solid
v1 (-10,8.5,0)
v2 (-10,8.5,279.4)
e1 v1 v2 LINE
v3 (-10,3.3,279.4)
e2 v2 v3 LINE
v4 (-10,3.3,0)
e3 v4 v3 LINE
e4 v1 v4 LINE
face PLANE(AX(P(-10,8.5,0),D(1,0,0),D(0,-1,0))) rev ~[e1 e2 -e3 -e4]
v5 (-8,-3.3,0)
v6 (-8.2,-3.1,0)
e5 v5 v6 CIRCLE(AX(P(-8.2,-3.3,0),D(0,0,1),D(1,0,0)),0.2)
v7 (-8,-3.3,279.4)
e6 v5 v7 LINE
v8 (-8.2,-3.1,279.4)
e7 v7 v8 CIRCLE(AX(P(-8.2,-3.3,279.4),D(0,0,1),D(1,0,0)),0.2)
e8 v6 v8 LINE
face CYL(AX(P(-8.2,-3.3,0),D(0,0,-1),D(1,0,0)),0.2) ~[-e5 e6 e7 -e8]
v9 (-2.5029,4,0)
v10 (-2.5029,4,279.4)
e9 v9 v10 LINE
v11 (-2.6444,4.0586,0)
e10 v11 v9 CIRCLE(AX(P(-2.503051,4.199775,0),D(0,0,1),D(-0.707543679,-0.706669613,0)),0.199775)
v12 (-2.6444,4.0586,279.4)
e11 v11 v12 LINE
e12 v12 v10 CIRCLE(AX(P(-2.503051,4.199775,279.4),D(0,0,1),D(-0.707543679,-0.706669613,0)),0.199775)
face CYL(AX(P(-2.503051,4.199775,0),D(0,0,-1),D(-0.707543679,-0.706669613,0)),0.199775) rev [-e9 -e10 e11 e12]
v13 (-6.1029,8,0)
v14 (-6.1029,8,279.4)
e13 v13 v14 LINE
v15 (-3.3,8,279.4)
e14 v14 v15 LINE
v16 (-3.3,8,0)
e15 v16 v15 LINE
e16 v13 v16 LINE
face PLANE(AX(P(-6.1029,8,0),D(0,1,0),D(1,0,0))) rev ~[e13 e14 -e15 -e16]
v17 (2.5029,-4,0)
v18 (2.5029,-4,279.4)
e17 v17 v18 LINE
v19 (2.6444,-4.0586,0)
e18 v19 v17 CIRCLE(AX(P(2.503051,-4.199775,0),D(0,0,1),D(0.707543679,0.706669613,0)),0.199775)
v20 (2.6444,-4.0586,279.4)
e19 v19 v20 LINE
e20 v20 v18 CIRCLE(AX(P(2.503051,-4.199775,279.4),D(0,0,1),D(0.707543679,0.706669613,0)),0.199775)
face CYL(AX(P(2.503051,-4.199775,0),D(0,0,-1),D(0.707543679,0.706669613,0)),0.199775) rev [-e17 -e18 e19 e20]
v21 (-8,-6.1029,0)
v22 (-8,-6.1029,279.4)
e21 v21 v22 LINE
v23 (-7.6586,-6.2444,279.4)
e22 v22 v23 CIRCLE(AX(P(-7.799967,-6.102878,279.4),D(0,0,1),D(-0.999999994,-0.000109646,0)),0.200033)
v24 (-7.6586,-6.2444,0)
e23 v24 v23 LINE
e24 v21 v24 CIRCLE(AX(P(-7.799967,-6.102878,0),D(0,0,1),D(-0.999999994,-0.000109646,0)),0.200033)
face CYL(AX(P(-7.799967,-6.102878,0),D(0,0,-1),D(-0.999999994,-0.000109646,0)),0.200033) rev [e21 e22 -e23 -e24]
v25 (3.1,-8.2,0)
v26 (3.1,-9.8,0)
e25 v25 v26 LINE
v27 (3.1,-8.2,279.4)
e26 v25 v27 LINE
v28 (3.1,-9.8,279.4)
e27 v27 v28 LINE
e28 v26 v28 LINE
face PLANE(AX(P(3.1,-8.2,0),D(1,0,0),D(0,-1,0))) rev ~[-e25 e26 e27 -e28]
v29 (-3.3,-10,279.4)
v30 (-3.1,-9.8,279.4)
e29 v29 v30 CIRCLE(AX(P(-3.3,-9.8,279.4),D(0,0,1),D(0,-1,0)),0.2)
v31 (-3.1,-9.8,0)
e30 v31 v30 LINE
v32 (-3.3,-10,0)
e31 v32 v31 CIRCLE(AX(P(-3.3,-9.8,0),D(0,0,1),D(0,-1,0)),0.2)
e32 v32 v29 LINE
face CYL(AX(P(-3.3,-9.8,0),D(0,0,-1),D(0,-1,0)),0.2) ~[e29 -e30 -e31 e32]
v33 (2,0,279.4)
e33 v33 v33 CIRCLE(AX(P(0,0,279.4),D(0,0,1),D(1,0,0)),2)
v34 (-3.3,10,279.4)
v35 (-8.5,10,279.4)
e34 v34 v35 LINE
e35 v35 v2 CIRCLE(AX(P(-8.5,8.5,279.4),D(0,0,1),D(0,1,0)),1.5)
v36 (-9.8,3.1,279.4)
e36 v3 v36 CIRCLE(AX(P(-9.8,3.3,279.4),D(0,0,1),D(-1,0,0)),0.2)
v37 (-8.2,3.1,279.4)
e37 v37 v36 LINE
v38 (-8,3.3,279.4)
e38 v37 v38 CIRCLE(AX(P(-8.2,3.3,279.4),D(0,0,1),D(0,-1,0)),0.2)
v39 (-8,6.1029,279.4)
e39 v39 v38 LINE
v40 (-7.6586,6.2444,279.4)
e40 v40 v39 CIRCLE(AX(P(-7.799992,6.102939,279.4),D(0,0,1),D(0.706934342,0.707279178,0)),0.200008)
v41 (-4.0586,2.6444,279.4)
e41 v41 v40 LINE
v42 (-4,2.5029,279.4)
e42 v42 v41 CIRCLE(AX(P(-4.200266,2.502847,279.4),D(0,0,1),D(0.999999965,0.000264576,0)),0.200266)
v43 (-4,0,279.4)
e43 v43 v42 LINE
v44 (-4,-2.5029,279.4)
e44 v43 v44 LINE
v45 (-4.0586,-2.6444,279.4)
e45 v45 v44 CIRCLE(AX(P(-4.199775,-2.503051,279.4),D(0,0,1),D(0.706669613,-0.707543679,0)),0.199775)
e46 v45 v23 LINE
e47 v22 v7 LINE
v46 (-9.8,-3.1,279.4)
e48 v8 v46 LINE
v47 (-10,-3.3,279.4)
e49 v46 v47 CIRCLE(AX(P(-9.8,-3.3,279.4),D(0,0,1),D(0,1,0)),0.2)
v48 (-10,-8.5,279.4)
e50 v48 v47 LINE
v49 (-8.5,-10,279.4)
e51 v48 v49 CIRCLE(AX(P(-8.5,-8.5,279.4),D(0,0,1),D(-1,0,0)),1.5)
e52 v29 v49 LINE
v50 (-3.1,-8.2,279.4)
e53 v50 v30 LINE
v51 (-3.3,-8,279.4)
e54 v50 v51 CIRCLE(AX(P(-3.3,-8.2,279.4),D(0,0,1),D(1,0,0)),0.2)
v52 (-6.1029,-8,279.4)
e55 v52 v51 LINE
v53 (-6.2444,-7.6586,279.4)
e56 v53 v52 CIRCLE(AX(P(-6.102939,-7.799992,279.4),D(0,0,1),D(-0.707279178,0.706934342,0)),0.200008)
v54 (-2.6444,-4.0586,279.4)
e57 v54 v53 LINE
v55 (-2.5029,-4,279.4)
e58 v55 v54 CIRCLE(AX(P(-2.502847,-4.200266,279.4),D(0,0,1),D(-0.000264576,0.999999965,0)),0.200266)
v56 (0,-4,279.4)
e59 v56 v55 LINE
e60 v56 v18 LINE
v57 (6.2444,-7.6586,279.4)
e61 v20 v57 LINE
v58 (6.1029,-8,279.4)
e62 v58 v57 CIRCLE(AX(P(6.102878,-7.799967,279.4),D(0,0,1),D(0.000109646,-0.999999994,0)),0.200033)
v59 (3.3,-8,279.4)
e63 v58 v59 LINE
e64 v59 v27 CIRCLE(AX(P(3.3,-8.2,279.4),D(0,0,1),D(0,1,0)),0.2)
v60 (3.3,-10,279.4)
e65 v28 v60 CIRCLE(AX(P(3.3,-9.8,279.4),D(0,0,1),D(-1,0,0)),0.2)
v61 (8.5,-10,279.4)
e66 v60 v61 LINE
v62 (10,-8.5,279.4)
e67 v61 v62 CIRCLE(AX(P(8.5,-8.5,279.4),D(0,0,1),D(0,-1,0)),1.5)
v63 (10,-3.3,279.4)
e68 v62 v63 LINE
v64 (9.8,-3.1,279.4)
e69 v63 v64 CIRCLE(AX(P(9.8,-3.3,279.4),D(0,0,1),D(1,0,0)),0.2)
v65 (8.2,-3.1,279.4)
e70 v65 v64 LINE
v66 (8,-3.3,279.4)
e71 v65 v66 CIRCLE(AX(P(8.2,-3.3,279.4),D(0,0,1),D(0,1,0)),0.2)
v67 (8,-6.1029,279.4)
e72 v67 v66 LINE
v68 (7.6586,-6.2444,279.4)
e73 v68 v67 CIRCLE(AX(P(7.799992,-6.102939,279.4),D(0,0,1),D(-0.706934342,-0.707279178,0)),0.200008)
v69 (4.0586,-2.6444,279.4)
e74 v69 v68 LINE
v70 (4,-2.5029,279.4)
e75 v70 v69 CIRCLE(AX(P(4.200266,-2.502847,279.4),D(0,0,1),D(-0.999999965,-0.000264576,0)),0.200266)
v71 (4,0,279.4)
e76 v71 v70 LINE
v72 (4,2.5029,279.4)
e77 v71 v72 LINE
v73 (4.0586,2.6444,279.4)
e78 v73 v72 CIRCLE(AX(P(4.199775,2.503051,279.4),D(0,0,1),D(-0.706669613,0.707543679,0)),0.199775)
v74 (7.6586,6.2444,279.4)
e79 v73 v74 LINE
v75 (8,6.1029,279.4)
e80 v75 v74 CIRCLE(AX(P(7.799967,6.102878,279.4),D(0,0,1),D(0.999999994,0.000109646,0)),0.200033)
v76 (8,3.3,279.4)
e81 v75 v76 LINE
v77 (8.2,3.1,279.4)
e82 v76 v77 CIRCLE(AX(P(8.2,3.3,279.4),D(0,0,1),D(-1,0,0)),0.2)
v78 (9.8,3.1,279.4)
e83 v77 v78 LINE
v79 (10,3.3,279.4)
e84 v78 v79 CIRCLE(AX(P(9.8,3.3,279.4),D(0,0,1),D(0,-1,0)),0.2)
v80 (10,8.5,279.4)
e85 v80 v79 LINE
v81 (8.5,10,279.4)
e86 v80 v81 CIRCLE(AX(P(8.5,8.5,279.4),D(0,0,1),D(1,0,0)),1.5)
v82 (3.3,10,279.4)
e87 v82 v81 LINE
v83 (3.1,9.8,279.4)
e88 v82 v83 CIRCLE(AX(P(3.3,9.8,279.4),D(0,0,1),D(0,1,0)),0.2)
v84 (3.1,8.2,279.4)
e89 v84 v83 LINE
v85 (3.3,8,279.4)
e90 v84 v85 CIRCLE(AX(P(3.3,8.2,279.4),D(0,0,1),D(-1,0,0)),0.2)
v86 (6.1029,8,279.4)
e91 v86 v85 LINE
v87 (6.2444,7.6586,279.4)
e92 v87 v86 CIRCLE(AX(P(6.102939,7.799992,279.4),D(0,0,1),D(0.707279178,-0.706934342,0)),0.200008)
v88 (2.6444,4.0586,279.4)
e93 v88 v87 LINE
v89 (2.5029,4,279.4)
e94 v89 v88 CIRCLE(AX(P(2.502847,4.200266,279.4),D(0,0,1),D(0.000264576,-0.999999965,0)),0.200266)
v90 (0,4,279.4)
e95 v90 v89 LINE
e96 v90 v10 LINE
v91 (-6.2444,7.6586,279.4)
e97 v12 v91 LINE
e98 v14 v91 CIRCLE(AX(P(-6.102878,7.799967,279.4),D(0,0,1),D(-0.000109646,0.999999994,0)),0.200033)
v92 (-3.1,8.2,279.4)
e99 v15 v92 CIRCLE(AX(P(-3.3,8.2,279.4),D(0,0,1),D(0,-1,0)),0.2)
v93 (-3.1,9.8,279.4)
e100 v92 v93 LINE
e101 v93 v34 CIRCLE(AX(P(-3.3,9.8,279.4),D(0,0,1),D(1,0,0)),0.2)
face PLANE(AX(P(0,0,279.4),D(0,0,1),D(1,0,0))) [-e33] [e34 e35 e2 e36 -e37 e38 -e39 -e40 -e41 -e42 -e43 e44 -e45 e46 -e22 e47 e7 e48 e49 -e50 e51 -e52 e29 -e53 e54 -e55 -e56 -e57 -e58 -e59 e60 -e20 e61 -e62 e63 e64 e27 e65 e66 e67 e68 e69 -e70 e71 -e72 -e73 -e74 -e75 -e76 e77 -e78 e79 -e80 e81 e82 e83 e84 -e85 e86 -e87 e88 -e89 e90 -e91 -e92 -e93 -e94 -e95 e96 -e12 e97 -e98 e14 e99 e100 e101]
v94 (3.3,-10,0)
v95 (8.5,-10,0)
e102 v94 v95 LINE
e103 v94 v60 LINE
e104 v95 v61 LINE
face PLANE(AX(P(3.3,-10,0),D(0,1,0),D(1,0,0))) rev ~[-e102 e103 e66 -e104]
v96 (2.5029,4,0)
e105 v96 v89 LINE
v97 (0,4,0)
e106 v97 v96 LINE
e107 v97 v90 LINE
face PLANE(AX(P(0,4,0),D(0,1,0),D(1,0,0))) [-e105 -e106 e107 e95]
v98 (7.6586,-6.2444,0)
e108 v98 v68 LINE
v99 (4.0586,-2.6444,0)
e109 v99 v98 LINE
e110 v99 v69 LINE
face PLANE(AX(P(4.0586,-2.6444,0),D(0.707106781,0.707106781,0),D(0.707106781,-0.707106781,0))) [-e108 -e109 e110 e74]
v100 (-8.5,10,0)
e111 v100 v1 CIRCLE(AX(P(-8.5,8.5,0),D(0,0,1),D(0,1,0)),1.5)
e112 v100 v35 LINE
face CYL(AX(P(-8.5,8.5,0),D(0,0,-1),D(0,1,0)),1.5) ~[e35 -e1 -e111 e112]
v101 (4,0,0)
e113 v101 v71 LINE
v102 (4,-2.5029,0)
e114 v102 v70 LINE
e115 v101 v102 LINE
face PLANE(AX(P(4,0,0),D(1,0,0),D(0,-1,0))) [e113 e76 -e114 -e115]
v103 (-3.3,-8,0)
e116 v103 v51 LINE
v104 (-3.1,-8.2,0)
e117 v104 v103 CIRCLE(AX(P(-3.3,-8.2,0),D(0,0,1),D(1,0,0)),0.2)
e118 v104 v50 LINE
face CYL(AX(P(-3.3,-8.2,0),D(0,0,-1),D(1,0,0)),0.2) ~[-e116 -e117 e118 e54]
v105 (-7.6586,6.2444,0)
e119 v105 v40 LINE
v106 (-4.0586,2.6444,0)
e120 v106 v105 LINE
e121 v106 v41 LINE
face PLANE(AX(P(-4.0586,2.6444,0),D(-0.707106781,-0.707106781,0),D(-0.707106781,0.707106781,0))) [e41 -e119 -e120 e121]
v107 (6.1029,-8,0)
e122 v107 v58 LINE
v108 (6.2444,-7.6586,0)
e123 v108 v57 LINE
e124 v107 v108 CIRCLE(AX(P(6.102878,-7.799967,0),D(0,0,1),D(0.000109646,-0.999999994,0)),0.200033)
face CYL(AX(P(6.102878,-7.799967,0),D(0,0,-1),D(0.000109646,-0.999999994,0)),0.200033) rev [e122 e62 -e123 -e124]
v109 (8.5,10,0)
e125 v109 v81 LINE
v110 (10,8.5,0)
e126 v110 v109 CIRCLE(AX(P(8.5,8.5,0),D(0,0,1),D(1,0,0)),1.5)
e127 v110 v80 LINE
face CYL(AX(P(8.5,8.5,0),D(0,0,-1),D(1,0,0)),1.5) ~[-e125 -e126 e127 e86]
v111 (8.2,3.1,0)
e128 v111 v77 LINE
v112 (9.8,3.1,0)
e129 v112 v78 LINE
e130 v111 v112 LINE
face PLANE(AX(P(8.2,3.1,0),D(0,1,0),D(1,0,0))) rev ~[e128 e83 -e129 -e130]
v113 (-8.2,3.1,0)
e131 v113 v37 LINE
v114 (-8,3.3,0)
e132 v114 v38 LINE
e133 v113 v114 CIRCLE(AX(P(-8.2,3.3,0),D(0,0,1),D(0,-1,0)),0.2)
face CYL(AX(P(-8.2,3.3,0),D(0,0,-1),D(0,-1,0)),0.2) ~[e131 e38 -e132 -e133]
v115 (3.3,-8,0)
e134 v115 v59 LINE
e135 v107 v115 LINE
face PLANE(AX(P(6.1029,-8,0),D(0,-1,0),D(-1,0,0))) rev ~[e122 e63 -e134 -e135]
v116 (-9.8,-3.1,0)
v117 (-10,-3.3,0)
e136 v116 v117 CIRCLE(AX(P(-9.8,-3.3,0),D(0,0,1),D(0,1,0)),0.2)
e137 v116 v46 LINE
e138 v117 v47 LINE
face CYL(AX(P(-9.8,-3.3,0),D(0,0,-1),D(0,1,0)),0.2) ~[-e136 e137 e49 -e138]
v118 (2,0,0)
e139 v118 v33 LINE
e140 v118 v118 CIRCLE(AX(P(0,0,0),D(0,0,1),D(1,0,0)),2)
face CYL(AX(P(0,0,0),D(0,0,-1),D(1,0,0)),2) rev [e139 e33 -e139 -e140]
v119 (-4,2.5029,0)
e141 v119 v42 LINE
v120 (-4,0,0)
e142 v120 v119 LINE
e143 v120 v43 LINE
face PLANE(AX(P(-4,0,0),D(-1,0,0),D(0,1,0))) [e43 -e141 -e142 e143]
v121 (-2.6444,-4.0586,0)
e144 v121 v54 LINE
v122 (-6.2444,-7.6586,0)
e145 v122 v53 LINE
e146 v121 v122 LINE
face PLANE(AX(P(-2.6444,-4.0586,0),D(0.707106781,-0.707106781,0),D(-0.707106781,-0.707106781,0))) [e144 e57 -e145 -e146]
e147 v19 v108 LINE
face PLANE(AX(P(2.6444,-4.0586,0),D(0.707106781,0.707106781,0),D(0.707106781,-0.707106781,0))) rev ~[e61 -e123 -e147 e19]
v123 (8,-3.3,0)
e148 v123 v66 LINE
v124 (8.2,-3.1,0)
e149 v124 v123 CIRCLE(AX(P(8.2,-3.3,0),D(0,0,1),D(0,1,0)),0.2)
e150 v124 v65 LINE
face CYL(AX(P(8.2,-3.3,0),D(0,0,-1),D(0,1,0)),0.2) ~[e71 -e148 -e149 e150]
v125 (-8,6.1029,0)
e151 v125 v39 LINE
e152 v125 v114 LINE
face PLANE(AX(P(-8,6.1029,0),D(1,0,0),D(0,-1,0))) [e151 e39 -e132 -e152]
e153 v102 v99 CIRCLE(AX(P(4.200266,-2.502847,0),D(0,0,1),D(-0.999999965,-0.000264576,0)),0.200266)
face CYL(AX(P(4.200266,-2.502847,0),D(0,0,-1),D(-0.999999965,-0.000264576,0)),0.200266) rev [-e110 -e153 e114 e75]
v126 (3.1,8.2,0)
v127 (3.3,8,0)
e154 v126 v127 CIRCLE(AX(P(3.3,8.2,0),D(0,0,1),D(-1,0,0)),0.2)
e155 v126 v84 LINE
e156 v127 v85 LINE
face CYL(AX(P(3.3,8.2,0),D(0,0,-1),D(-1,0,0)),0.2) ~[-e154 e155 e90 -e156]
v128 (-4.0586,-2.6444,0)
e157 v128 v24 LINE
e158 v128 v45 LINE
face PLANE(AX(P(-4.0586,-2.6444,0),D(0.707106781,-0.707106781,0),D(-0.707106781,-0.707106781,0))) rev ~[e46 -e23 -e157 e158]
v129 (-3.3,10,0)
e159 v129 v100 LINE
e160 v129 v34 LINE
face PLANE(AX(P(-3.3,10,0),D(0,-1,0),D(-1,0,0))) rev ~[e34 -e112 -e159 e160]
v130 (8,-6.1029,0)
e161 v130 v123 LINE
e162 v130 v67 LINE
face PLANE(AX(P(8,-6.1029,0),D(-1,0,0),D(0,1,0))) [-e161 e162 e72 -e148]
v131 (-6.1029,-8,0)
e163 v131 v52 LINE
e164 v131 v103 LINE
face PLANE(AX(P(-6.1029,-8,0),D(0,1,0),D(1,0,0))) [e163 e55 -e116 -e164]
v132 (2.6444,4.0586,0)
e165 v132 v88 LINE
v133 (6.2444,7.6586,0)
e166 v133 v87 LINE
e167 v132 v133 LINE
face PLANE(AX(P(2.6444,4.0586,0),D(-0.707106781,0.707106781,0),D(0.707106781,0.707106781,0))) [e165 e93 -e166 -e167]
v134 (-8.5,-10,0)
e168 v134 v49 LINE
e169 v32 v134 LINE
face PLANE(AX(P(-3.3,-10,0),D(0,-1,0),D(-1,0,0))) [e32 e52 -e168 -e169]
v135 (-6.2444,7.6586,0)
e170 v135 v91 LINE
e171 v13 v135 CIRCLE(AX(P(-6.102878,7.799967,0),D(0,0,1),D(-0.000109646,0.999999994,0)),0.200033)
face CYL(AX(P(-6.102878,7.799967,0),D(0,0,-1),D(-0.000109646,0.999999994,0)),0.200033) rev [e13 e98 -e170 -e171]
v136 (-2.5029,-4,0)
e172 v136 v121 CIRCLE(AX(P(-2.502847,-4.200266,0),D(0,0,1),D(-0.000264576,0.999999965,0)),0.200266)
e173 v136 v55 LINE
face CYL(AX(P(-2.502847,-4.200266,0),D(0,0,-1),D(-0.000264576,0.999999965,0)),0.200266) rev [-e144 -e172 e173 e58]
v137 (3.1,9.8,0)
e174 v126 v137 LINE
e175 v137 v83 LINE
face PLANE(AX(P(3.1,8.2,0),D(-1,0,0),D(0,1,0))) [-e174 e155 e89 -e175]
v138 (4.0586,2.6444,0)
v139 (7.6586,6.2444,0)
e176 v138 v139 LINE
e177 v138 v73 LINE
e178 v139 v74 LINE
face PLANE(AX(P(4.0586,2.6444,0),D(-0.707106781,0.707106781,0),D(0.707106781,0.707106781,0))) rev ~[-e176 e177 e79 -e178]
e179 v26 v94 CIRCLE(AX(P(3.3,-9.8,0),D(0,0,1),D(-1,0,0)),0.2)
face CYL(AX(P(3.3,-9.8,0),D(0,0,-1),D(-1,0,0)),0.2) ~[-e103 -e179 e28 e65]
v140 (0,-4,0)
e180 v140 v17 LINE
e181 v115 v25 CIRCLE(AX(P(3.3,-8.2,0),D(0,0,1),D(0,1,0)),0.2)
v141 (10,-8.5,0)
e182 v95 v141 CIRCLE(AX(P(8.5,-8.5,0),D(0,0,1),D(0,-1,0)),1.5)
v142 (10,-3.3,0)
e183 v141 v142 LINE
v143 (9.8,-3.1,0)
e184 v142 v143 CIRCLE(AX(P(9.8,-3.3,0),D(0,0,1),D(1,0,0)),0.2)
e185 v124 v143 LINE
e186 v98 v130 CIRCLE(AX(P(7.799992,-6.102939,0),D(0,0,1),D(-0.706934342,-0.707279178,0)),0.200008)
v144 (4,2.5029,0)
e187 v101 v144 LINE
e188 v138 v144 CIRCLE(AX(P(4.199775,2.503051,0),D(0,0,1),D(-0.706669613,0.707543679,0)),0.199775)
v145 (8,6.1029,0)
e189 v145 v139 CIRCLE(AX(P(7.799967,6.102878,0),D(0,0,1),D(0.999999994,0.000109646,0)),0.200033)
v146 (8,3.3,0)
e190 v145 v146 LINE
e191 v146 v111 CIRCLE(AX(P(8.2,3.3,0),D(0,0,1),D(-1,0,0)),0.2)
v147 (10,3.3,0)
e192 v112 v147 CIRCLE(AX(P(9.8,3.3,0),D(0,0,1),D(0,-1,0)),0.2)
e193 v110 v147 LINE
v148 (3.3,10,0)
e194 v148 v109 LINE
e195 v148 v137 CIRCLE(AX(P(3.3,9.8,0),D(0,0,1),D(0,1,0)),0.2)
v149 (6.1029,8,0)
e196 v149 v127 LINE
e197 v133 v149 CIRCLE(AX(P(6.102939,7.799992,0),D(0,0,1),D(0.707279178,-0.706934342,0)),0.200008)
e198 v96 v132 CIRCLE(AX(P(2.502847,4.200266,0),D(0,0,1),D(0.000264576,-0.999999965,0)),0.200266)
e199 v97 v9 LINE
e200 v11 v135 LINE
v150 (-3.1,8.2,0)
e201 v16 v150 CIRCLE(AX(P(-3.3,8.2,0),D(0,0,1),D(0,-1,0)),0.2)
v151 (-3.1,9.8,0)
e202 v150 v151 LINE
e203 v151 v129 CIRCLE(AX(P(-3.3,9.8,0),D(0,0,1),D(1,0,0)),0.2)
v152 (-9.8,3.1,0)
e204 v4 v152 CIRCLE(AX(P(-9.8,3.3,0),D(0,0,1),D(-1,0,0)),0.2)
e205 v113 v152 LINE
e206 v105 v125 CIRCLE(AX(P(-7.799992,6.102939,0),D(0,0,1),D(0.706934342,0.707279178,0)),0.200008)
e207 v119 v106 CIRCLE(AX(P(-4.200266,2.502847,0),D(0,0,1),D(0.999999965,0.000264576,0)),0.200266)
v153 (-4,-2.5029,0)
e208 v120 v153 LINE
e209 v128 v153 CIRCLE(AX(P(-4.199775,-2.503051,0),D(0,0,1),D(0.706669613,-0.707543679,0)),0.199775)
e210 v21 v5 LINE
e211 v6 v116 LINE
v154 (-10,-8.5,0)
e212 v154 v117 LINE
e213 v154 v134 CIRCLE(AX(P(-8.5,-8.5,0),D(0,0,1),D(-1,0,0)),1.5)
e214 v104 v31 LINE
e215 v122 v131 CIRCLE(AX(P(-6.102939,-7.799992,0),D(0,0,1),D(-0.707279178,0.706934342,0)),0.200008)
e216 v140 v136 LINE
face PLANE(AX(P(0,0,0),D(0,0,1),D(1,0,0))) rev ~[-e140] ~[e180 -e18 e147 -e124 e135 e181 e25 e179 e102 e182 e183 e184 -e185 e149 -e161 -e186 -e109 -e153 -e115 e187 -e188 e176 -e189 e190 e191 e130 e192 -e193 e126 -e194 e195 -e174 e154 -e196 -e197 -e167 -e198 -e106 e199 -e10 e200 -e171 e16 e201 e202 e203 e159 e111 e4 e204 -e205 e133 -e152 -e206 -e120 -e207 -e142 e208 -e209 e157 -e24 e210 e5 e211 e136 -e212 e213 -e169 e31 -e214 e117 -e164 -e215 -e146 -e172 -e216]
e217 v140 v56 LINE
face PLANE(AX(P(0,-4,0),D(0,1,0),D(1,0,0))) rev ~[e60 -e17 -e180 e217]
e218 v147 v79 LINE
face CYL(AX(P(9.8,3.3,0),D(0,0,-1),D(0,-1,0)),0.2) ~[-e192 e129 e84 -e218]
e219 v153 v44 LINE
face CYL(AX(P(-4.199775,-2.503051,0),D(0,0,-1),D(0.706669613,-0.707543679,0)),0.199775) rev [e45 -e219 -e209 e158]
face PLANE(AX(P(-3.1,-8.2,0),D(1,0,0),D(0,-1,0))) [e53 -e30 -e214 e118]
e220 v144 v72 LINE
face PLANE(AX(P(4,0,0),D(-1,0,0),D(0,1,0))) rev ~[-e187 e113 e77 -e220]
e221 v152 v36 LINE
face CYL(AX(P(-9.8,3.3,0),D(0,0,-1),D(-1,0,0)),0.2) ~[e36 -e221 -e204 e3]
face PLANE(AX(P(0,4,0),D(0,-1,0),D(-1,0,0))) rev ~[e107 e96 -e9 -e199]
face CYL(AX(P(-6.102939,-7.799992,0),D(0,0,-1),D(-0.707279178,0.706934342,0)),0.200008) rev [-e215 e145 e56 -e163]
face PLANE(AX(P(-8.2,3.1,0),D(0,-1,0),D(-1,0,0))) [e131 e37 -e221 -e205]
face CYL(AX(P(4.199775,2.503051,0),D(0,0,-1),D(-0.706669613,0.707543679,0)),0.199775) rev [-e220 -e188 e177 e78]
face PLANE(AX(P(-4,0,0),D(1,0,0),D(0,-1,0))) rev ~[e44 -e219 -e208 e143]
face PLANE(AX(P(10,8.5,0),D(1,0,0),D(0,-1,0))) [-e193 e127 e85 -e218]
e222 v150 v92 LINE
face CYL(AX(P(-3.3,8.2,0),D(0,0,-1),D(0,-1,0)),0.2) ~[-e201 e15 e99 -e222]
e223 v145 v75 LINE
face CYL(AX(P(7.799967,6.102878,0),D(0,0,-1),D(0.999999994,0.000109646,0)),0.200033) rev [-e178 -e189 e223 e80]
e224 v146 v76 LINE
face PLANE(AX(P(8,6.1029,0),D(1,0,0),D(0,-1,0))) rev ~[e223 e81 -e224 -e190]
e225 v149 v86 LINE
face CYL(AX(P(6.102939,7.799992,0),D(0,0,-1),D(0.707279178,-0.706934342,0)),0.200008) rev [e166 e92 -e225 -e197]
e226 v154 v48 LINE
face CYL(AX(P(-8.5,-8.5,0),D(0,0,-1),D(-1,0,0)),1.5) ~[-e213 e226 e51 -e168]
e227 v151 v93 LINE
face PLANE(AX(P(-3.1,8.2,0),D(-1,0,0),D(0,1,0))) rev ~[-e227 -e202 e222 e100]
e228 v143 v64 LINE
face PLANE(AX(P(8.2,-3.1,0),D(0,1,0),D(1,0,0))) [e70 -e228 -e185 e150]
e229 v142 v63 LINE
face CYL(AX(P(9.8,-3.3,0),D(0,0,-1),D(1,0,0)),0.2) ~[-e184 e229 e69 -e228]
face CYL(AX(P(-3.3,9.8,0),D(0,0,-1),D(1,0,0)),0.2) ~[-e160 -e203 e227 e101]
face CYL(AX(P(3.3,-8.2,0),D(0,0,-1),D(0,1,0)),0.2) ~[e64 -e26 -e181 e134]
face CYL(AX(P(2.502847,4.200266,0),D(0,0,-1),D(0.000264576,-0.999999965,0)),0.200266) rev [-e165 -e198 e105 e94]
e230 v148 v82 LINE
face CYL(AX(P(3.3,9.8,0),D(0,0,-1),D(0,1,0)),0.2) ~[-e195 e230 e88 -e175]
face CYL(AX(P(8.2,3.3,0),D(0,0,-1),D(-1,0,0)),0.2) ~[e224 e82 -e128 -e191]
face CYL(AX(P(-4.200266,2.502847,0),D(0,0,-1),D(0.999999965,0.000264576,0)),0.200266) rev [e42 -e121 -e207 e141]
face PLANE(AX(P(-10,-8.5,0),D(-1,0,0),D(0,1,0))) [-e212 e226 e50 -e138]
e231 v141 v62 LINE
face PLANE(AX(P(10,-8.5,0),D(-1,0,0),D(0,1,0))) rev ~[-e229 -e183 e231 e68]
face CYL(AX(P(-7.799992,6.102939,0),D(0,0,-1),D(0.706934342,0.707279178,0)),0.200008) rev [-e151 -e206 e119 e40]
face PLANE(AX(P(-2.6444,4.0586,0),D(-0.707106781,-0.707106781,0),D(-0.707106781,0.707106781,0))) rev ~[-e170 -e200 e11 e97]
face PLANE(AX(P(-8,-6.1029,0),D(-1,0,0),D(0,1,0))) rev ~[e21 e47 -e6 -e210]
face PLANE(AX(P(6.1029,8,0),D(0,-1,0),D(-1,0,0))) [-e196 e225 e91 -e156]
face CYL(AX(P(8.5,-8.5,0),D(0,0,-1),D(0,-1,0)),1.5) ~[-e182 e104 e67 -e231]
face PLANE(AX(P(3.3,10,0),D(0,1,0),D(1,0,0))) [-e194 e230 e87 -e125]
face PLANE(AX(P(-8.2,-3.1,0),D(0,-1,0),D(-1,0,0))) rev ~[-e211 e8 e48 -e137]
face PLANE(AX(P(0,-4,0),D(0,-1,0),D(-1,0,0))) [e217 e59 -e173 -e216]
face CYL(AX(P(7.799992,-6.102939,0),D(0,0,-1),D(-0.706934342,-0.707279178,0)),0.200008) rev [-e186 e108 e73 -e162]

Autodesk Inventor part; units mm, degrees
ref_plane "YZ Plane" through (0, 0, 0) normal (1, 0, 0) x (0, 1, 0)
ref_plane "XZ Plane" through (0, 0, 0) normal (0, 1, 0) x (-1, 0, 0)
ref_plane "XY Plane" through (0, 0, 0) normal (0, 0, 1) x (1, 0, 0)
sketch "Sketch1" plane through (0, 0, 0) normal (0, 0, 1) x (1, 0, 0)
  line L0 (-10, 10) -> (10, 10) construction
  line L1 (10, 10) -> (10, -10) construction
  line L2 (10, -10) -> (-10, -10) construction
  line L3 (-10, -10) -> (-10, 10) construction
  line L4 (-10, 10) -> (10, -10) construction
  line L5 (10, 10) -> (-10, -10) construction
  circle A0 centre (0, 0) radius 2
  line L6 (-4, -4) -> (4, -4) construction
  line L7 (4, -4) -> (4, 4) construction
  line L8 (4, 4) -> (-4, 4) construction
  line L9 (-4, 4) -> (-4, -4) construction
  line L10 (-4, -4) -> (4, 4) construction
  line L11 (4, -4) -> (-4, 4) construction
  line L12 (2.6444, 4.0586) -> (6.2444, 7.6586)
  line L13 (6.1029, 8) -> (3.3, 8)
  line L14 (3.1, 8.2) -> (3.1, 9.8)
  line L15 (3.3, 10) -> (8.5, 10)
  line L16 (4.0586, 2.6444) -> (7.6586, 6.2444)
  line L17 (8, 6.1029) -> (8, 3.3)
  line L18 (8.2, 3.1) -> (9.8, 3.1)
  line L19 (10, 8.5) -> (10, 3.3)
  line L20 (0, 4) -> (2.5029, 4)
  line L21 (4, 0) -> (4, 2.5029)
  line L22 (0, 10) -> (0, -10) construction
  line L23 (-10, 0) -> (10, 0) construction
  line L24 (-2.6444, 4.0586) -> (-6.2444, 7.6586)
  line L25 (-6.1029, 8) -> (-3.3, 8)
  line L26 (-3.1, 8.2) -> (-3.1, 9.8)
  line L27 (-3.3, 10) -> (-8.5, 10)
  line L28 (-4.0586, 2.6444) -> (-7.6586, 6.2444)
  line L29 (-8, 6.1029) -> (-8, 3.3)
  line L30 (-8.2, 3.1) -> (-9.8, 3.1)
  line L31 (-10, 8.5) -> (-10, 3.3)
  line L32 (0, 4) -> (-2.5029, 4)
  line L33 (-4, 0) -> (-4, 2.5029)
  line L34 (2.6444, -4.0586) -> (6.2444, -7.6586)
  line L35 (6.1029, -8) -> (3.3, -8)
  line L36 (3.1, -8.2) -> (3.1, -9.8)
  line L37 (3.3, -10) -> (8.5, -10)
  line L38 (4.0586, -2.6444) -> (7.6586, -6.2444)
  line L39 (8, -6.1029) -> (8, -3.3)
  line L40 (8.2, -3.1) -> (9.8, -3.1)
  line L41 (10, -8.5) -> (10, -3.3)
  line L42 (0, -4) -> (2.5029, -4)
  line L43 (4, 0) -> (4, -2.5029)
  line L44 (0, -4) -> (-2.5029, -4)
  line L45 (-2.6444, -4.0586) -> (-6.2444, -7.6586)
  line L46 (-6.1029, -8) -> (-3.3, -8)
  line L47 (-3.1, -8.2) -> (-3.1, -9.8)
  line L48 (-3.3, -10) -> (-8.5, -10)
  line L49 (-4.0586, -2.6444) -> (-7.6586, -6.2444)
  line L50 (-4, 0) -> (-4, -2.5029)
  line L51 (-8, -6.1029) -> (-8, -3.3)
  line L52 (-8.2, -3.1) -> (-9.8, -3.1)
  line L53 (-10, -8.5) -> (-10, -3.3)
  arc A1 (10, 8.5) -> (8.5, 10) centre (8.5, 8.5) ccw
  arc A2 (-8.5, 10) -> (-10, 8.5) centre (-8.5, 8.5) ccw
  arc A3 (-10, -8.5) -> (-8.5, -10) centre (-8.5, -8.5) ccw
  arc A4 (8.5, -10) -> (10, -8.5) centre (8.5, -8.5) ccw
  arc A5 (-3.1, 9.8) -> (-3.3, 10) centre (-3.3, 9.8) ccw
  arc A6 (-3.3, 8) -> (-3.1, 8.2) centre (-3.3, 8.2) ccw
  arc A7 (-6.1029, 8) -> (-6.2444, 7.6586) centre (-6.1029, 7.8) ccw
  arc A8 (6.2444, 7.6586) -> (6.1029, 8) centre (6.1029, 7.8) ccw
  arc A9 (-8, -6.1029) -> (-7.6586, -6.2444) centre (-7.8, -6.1029) ccw
  arc A10 (-3.1, -8.2) -> (-3.3, -8) centre (-3.3, -8.2) ccw
  arc A11 (6.1029, -8) -> (6.2444, -7.6586) centre (6.1029, -7.8) ccw
  arc A12 (3.3, -8) -> (3.1, -8.2) centre (3.3, -8.2) ccw
  arc A13 (-6.2444, -7.6586) -> (-6.1029, -8) centre (-6.1029, -7.8) ccw
  arc A14 (7.6586, -6.2444) -> (8, -6.1029) centre (7.8, -6.1029) ccw
  arc A15 (8.2, -3.1) -> (8, -3.3) centre (8.2, -3.3) ccw
  arc A16 (8, 6.1029) -> (7.6586, 6.2444) centre (7.8, 6.1029) ccw
  arc A17 (8, 3.3) -> (8.2, 3.1) centre (8.2, 3.3) ccw
  arc A18 (3.3, 10) -> (3.1, 9.8) centre (3.3, 9.8) ccw
  arc A19 (-2.6444, 4.0586) -> (-2.5029, 4) centre (-2.5029, 4.2) ccw
  arc A20 (2.5029, 4) -> (2.6444, 4.0586) centre (2.5029, 4.2) ccw
  arc A21 (4.0586, 2.6444) -> (4, 2.5029) centre (4.2, 2.5029) ccw
  arc A22 (4, -2.5029) -> (4.0586, -2.6444) centre (4.2, -2.5029) ccw
  arc A23 (2.6444, -4.0586) -> (2.5029, -4) centre (2.5029, -4.2) ccw
  arc A24 (-2.5029, -4) -> (-2.6444, -4.0586) centre (-2.5029, -4.2) ccw
  arc A25 (-4.0586, -2.6444) -> (-4, -2.5029) centre (-4.2, -2.5029) ccw
  arc A26 (-4, 2.5029) -> (-4.0586, 2.6444) centre (-4.2, 2.5029) ccw
  arc A27 (-7.6586, 6.2444) -> (-8, 6.1029) centre (-7.8, 6.1029) ccw
  arc A28 (-8.2, 3.1) -> (-8, 3.3) centre (-8.2, 3.3) ccw
  arc A29 (-10, 3.3) -> (-9.8, 3.1) centre (-9.8, 3.3) ccw
  arc A30 (-8, -3.3) -> (-8.2, -3.1) centre (-8.2, -3.3) ccw
  arc A31 (-9.8, -3.1) -> (-10, -3.3) centre (-9.8, -3.3) ccw
  arc A32 (-3.3, -10) -> (-3.1, -9.8) centre (-3.3, -9.8) ccw
  arc A33 (3.1, -9.8) -> (3.3, -10) centre (3.3, -9.8) ccw
  arc A34 (10, -3.3) -> (9.8, -3.1) centre (9.8, -3.3) ccw
  arc A35 (9.8, 3.1) -> (10, 3.3) centre (9.8, 3.3) ccw
  arc A36 (3.1, 8.2) -> (3.3, 8) centre (3.3, 8.2) ccw
  point P0 (2.5858, 4)
  point P1 (6.5858, 8)
  point P2 (3.1, 8)
  point P3 (3.1, 10)
  point P4 (4, 2.5858)
  point P5 (8, 6.5858)
  point P6 (8, 3.1)
  point P7 (10, 3.1)
  point P8 (-2.5858, 4)
  point P9 (-6.5858, 8)
  point P10 (-3.1, 8)
  point P11 (-3.1, 10)
  point P12 (-4, 2.5858)
  point P13 (-8, 6.5858)
  point P14 (-8, 3.1)
  point P15 (-10, 3.1)
  point P16 (2.5858, -4)
  point P17 (6.5858, -8)
  point P18 (3.1, -8)
  point P19 (3.1, -10)
  point P20 (4, -2.5858)
  point P21 (8, -6.5858)
  point P22 (8, -3.1)
  point P23 (10, -3.1)
  point P24 (-2.5858, -4)
  point P25 (-6.5858, -8)
  point P26 (-3.1, -8)
  point P27 (-3.1, -10)
  point P28 (-4, -2.5858)
  point P29 (-8, -6.5858)
  point P30 (-8, -3.1)
  point P31 (-10, -3.1)
  dimension "d0" = 20
  dimension "d1" = 20
  dimension "d2" = 4
  dimension "d5" = 6
  dimension "t" = 2
  dimension "d7" = 1
  dimension "d8" = 2
  dimension "d9" = 2
  dimension "d10" = 3.1
  dimension "d11" = 3.1
  dimension "d15" = 1.5
  dimension "d16" = 1.5
  dimension "d17" = 1.5
  dimension "d18" = 1.5
  dimension "d19" = 0.2
  dimension "d20" = 0.2
  dimension "d21" = 0.2
  dimension "d22" = 0.2
  dimension "d23" = 0.2
  dimension "d24" = 0.2
  dimension "d25" = 0.2
  dimension "d26" = 0.2
  dimension "d27" = 0.2
  dimension "d28" = 0.2
  dimension "d29" = 0.2
  dimension "d30" = 0.2
  dimension "d31" = 0.2
  dimension "d32" = 0.2
  dimension "d33" = 0.2
  dimension "d34" = 0.2
  dimension "d35" = 0.2
  dimension "d36" = 0.2
  dimension "d37" = 0.2
  dimension "d38" = 0.2
  dimension "d39" = 0.2
  dimension "d40" = 0.2
  dimension "d41" = 0.2
extrude "2020 Al T-S (1000mm)" add sketch "Sketch1" along normal blind 279.4
equation "\"d1\" = d0"
equation "\"d7\" = 0.5 * t"
equation "\"d8\" = t"
equation "\"d9\" = t"
equation "\"d11\" = d10"
properties part number "2020 Aluminium Extrusion T-Slot lower arm" material "Aluminum 6061"
